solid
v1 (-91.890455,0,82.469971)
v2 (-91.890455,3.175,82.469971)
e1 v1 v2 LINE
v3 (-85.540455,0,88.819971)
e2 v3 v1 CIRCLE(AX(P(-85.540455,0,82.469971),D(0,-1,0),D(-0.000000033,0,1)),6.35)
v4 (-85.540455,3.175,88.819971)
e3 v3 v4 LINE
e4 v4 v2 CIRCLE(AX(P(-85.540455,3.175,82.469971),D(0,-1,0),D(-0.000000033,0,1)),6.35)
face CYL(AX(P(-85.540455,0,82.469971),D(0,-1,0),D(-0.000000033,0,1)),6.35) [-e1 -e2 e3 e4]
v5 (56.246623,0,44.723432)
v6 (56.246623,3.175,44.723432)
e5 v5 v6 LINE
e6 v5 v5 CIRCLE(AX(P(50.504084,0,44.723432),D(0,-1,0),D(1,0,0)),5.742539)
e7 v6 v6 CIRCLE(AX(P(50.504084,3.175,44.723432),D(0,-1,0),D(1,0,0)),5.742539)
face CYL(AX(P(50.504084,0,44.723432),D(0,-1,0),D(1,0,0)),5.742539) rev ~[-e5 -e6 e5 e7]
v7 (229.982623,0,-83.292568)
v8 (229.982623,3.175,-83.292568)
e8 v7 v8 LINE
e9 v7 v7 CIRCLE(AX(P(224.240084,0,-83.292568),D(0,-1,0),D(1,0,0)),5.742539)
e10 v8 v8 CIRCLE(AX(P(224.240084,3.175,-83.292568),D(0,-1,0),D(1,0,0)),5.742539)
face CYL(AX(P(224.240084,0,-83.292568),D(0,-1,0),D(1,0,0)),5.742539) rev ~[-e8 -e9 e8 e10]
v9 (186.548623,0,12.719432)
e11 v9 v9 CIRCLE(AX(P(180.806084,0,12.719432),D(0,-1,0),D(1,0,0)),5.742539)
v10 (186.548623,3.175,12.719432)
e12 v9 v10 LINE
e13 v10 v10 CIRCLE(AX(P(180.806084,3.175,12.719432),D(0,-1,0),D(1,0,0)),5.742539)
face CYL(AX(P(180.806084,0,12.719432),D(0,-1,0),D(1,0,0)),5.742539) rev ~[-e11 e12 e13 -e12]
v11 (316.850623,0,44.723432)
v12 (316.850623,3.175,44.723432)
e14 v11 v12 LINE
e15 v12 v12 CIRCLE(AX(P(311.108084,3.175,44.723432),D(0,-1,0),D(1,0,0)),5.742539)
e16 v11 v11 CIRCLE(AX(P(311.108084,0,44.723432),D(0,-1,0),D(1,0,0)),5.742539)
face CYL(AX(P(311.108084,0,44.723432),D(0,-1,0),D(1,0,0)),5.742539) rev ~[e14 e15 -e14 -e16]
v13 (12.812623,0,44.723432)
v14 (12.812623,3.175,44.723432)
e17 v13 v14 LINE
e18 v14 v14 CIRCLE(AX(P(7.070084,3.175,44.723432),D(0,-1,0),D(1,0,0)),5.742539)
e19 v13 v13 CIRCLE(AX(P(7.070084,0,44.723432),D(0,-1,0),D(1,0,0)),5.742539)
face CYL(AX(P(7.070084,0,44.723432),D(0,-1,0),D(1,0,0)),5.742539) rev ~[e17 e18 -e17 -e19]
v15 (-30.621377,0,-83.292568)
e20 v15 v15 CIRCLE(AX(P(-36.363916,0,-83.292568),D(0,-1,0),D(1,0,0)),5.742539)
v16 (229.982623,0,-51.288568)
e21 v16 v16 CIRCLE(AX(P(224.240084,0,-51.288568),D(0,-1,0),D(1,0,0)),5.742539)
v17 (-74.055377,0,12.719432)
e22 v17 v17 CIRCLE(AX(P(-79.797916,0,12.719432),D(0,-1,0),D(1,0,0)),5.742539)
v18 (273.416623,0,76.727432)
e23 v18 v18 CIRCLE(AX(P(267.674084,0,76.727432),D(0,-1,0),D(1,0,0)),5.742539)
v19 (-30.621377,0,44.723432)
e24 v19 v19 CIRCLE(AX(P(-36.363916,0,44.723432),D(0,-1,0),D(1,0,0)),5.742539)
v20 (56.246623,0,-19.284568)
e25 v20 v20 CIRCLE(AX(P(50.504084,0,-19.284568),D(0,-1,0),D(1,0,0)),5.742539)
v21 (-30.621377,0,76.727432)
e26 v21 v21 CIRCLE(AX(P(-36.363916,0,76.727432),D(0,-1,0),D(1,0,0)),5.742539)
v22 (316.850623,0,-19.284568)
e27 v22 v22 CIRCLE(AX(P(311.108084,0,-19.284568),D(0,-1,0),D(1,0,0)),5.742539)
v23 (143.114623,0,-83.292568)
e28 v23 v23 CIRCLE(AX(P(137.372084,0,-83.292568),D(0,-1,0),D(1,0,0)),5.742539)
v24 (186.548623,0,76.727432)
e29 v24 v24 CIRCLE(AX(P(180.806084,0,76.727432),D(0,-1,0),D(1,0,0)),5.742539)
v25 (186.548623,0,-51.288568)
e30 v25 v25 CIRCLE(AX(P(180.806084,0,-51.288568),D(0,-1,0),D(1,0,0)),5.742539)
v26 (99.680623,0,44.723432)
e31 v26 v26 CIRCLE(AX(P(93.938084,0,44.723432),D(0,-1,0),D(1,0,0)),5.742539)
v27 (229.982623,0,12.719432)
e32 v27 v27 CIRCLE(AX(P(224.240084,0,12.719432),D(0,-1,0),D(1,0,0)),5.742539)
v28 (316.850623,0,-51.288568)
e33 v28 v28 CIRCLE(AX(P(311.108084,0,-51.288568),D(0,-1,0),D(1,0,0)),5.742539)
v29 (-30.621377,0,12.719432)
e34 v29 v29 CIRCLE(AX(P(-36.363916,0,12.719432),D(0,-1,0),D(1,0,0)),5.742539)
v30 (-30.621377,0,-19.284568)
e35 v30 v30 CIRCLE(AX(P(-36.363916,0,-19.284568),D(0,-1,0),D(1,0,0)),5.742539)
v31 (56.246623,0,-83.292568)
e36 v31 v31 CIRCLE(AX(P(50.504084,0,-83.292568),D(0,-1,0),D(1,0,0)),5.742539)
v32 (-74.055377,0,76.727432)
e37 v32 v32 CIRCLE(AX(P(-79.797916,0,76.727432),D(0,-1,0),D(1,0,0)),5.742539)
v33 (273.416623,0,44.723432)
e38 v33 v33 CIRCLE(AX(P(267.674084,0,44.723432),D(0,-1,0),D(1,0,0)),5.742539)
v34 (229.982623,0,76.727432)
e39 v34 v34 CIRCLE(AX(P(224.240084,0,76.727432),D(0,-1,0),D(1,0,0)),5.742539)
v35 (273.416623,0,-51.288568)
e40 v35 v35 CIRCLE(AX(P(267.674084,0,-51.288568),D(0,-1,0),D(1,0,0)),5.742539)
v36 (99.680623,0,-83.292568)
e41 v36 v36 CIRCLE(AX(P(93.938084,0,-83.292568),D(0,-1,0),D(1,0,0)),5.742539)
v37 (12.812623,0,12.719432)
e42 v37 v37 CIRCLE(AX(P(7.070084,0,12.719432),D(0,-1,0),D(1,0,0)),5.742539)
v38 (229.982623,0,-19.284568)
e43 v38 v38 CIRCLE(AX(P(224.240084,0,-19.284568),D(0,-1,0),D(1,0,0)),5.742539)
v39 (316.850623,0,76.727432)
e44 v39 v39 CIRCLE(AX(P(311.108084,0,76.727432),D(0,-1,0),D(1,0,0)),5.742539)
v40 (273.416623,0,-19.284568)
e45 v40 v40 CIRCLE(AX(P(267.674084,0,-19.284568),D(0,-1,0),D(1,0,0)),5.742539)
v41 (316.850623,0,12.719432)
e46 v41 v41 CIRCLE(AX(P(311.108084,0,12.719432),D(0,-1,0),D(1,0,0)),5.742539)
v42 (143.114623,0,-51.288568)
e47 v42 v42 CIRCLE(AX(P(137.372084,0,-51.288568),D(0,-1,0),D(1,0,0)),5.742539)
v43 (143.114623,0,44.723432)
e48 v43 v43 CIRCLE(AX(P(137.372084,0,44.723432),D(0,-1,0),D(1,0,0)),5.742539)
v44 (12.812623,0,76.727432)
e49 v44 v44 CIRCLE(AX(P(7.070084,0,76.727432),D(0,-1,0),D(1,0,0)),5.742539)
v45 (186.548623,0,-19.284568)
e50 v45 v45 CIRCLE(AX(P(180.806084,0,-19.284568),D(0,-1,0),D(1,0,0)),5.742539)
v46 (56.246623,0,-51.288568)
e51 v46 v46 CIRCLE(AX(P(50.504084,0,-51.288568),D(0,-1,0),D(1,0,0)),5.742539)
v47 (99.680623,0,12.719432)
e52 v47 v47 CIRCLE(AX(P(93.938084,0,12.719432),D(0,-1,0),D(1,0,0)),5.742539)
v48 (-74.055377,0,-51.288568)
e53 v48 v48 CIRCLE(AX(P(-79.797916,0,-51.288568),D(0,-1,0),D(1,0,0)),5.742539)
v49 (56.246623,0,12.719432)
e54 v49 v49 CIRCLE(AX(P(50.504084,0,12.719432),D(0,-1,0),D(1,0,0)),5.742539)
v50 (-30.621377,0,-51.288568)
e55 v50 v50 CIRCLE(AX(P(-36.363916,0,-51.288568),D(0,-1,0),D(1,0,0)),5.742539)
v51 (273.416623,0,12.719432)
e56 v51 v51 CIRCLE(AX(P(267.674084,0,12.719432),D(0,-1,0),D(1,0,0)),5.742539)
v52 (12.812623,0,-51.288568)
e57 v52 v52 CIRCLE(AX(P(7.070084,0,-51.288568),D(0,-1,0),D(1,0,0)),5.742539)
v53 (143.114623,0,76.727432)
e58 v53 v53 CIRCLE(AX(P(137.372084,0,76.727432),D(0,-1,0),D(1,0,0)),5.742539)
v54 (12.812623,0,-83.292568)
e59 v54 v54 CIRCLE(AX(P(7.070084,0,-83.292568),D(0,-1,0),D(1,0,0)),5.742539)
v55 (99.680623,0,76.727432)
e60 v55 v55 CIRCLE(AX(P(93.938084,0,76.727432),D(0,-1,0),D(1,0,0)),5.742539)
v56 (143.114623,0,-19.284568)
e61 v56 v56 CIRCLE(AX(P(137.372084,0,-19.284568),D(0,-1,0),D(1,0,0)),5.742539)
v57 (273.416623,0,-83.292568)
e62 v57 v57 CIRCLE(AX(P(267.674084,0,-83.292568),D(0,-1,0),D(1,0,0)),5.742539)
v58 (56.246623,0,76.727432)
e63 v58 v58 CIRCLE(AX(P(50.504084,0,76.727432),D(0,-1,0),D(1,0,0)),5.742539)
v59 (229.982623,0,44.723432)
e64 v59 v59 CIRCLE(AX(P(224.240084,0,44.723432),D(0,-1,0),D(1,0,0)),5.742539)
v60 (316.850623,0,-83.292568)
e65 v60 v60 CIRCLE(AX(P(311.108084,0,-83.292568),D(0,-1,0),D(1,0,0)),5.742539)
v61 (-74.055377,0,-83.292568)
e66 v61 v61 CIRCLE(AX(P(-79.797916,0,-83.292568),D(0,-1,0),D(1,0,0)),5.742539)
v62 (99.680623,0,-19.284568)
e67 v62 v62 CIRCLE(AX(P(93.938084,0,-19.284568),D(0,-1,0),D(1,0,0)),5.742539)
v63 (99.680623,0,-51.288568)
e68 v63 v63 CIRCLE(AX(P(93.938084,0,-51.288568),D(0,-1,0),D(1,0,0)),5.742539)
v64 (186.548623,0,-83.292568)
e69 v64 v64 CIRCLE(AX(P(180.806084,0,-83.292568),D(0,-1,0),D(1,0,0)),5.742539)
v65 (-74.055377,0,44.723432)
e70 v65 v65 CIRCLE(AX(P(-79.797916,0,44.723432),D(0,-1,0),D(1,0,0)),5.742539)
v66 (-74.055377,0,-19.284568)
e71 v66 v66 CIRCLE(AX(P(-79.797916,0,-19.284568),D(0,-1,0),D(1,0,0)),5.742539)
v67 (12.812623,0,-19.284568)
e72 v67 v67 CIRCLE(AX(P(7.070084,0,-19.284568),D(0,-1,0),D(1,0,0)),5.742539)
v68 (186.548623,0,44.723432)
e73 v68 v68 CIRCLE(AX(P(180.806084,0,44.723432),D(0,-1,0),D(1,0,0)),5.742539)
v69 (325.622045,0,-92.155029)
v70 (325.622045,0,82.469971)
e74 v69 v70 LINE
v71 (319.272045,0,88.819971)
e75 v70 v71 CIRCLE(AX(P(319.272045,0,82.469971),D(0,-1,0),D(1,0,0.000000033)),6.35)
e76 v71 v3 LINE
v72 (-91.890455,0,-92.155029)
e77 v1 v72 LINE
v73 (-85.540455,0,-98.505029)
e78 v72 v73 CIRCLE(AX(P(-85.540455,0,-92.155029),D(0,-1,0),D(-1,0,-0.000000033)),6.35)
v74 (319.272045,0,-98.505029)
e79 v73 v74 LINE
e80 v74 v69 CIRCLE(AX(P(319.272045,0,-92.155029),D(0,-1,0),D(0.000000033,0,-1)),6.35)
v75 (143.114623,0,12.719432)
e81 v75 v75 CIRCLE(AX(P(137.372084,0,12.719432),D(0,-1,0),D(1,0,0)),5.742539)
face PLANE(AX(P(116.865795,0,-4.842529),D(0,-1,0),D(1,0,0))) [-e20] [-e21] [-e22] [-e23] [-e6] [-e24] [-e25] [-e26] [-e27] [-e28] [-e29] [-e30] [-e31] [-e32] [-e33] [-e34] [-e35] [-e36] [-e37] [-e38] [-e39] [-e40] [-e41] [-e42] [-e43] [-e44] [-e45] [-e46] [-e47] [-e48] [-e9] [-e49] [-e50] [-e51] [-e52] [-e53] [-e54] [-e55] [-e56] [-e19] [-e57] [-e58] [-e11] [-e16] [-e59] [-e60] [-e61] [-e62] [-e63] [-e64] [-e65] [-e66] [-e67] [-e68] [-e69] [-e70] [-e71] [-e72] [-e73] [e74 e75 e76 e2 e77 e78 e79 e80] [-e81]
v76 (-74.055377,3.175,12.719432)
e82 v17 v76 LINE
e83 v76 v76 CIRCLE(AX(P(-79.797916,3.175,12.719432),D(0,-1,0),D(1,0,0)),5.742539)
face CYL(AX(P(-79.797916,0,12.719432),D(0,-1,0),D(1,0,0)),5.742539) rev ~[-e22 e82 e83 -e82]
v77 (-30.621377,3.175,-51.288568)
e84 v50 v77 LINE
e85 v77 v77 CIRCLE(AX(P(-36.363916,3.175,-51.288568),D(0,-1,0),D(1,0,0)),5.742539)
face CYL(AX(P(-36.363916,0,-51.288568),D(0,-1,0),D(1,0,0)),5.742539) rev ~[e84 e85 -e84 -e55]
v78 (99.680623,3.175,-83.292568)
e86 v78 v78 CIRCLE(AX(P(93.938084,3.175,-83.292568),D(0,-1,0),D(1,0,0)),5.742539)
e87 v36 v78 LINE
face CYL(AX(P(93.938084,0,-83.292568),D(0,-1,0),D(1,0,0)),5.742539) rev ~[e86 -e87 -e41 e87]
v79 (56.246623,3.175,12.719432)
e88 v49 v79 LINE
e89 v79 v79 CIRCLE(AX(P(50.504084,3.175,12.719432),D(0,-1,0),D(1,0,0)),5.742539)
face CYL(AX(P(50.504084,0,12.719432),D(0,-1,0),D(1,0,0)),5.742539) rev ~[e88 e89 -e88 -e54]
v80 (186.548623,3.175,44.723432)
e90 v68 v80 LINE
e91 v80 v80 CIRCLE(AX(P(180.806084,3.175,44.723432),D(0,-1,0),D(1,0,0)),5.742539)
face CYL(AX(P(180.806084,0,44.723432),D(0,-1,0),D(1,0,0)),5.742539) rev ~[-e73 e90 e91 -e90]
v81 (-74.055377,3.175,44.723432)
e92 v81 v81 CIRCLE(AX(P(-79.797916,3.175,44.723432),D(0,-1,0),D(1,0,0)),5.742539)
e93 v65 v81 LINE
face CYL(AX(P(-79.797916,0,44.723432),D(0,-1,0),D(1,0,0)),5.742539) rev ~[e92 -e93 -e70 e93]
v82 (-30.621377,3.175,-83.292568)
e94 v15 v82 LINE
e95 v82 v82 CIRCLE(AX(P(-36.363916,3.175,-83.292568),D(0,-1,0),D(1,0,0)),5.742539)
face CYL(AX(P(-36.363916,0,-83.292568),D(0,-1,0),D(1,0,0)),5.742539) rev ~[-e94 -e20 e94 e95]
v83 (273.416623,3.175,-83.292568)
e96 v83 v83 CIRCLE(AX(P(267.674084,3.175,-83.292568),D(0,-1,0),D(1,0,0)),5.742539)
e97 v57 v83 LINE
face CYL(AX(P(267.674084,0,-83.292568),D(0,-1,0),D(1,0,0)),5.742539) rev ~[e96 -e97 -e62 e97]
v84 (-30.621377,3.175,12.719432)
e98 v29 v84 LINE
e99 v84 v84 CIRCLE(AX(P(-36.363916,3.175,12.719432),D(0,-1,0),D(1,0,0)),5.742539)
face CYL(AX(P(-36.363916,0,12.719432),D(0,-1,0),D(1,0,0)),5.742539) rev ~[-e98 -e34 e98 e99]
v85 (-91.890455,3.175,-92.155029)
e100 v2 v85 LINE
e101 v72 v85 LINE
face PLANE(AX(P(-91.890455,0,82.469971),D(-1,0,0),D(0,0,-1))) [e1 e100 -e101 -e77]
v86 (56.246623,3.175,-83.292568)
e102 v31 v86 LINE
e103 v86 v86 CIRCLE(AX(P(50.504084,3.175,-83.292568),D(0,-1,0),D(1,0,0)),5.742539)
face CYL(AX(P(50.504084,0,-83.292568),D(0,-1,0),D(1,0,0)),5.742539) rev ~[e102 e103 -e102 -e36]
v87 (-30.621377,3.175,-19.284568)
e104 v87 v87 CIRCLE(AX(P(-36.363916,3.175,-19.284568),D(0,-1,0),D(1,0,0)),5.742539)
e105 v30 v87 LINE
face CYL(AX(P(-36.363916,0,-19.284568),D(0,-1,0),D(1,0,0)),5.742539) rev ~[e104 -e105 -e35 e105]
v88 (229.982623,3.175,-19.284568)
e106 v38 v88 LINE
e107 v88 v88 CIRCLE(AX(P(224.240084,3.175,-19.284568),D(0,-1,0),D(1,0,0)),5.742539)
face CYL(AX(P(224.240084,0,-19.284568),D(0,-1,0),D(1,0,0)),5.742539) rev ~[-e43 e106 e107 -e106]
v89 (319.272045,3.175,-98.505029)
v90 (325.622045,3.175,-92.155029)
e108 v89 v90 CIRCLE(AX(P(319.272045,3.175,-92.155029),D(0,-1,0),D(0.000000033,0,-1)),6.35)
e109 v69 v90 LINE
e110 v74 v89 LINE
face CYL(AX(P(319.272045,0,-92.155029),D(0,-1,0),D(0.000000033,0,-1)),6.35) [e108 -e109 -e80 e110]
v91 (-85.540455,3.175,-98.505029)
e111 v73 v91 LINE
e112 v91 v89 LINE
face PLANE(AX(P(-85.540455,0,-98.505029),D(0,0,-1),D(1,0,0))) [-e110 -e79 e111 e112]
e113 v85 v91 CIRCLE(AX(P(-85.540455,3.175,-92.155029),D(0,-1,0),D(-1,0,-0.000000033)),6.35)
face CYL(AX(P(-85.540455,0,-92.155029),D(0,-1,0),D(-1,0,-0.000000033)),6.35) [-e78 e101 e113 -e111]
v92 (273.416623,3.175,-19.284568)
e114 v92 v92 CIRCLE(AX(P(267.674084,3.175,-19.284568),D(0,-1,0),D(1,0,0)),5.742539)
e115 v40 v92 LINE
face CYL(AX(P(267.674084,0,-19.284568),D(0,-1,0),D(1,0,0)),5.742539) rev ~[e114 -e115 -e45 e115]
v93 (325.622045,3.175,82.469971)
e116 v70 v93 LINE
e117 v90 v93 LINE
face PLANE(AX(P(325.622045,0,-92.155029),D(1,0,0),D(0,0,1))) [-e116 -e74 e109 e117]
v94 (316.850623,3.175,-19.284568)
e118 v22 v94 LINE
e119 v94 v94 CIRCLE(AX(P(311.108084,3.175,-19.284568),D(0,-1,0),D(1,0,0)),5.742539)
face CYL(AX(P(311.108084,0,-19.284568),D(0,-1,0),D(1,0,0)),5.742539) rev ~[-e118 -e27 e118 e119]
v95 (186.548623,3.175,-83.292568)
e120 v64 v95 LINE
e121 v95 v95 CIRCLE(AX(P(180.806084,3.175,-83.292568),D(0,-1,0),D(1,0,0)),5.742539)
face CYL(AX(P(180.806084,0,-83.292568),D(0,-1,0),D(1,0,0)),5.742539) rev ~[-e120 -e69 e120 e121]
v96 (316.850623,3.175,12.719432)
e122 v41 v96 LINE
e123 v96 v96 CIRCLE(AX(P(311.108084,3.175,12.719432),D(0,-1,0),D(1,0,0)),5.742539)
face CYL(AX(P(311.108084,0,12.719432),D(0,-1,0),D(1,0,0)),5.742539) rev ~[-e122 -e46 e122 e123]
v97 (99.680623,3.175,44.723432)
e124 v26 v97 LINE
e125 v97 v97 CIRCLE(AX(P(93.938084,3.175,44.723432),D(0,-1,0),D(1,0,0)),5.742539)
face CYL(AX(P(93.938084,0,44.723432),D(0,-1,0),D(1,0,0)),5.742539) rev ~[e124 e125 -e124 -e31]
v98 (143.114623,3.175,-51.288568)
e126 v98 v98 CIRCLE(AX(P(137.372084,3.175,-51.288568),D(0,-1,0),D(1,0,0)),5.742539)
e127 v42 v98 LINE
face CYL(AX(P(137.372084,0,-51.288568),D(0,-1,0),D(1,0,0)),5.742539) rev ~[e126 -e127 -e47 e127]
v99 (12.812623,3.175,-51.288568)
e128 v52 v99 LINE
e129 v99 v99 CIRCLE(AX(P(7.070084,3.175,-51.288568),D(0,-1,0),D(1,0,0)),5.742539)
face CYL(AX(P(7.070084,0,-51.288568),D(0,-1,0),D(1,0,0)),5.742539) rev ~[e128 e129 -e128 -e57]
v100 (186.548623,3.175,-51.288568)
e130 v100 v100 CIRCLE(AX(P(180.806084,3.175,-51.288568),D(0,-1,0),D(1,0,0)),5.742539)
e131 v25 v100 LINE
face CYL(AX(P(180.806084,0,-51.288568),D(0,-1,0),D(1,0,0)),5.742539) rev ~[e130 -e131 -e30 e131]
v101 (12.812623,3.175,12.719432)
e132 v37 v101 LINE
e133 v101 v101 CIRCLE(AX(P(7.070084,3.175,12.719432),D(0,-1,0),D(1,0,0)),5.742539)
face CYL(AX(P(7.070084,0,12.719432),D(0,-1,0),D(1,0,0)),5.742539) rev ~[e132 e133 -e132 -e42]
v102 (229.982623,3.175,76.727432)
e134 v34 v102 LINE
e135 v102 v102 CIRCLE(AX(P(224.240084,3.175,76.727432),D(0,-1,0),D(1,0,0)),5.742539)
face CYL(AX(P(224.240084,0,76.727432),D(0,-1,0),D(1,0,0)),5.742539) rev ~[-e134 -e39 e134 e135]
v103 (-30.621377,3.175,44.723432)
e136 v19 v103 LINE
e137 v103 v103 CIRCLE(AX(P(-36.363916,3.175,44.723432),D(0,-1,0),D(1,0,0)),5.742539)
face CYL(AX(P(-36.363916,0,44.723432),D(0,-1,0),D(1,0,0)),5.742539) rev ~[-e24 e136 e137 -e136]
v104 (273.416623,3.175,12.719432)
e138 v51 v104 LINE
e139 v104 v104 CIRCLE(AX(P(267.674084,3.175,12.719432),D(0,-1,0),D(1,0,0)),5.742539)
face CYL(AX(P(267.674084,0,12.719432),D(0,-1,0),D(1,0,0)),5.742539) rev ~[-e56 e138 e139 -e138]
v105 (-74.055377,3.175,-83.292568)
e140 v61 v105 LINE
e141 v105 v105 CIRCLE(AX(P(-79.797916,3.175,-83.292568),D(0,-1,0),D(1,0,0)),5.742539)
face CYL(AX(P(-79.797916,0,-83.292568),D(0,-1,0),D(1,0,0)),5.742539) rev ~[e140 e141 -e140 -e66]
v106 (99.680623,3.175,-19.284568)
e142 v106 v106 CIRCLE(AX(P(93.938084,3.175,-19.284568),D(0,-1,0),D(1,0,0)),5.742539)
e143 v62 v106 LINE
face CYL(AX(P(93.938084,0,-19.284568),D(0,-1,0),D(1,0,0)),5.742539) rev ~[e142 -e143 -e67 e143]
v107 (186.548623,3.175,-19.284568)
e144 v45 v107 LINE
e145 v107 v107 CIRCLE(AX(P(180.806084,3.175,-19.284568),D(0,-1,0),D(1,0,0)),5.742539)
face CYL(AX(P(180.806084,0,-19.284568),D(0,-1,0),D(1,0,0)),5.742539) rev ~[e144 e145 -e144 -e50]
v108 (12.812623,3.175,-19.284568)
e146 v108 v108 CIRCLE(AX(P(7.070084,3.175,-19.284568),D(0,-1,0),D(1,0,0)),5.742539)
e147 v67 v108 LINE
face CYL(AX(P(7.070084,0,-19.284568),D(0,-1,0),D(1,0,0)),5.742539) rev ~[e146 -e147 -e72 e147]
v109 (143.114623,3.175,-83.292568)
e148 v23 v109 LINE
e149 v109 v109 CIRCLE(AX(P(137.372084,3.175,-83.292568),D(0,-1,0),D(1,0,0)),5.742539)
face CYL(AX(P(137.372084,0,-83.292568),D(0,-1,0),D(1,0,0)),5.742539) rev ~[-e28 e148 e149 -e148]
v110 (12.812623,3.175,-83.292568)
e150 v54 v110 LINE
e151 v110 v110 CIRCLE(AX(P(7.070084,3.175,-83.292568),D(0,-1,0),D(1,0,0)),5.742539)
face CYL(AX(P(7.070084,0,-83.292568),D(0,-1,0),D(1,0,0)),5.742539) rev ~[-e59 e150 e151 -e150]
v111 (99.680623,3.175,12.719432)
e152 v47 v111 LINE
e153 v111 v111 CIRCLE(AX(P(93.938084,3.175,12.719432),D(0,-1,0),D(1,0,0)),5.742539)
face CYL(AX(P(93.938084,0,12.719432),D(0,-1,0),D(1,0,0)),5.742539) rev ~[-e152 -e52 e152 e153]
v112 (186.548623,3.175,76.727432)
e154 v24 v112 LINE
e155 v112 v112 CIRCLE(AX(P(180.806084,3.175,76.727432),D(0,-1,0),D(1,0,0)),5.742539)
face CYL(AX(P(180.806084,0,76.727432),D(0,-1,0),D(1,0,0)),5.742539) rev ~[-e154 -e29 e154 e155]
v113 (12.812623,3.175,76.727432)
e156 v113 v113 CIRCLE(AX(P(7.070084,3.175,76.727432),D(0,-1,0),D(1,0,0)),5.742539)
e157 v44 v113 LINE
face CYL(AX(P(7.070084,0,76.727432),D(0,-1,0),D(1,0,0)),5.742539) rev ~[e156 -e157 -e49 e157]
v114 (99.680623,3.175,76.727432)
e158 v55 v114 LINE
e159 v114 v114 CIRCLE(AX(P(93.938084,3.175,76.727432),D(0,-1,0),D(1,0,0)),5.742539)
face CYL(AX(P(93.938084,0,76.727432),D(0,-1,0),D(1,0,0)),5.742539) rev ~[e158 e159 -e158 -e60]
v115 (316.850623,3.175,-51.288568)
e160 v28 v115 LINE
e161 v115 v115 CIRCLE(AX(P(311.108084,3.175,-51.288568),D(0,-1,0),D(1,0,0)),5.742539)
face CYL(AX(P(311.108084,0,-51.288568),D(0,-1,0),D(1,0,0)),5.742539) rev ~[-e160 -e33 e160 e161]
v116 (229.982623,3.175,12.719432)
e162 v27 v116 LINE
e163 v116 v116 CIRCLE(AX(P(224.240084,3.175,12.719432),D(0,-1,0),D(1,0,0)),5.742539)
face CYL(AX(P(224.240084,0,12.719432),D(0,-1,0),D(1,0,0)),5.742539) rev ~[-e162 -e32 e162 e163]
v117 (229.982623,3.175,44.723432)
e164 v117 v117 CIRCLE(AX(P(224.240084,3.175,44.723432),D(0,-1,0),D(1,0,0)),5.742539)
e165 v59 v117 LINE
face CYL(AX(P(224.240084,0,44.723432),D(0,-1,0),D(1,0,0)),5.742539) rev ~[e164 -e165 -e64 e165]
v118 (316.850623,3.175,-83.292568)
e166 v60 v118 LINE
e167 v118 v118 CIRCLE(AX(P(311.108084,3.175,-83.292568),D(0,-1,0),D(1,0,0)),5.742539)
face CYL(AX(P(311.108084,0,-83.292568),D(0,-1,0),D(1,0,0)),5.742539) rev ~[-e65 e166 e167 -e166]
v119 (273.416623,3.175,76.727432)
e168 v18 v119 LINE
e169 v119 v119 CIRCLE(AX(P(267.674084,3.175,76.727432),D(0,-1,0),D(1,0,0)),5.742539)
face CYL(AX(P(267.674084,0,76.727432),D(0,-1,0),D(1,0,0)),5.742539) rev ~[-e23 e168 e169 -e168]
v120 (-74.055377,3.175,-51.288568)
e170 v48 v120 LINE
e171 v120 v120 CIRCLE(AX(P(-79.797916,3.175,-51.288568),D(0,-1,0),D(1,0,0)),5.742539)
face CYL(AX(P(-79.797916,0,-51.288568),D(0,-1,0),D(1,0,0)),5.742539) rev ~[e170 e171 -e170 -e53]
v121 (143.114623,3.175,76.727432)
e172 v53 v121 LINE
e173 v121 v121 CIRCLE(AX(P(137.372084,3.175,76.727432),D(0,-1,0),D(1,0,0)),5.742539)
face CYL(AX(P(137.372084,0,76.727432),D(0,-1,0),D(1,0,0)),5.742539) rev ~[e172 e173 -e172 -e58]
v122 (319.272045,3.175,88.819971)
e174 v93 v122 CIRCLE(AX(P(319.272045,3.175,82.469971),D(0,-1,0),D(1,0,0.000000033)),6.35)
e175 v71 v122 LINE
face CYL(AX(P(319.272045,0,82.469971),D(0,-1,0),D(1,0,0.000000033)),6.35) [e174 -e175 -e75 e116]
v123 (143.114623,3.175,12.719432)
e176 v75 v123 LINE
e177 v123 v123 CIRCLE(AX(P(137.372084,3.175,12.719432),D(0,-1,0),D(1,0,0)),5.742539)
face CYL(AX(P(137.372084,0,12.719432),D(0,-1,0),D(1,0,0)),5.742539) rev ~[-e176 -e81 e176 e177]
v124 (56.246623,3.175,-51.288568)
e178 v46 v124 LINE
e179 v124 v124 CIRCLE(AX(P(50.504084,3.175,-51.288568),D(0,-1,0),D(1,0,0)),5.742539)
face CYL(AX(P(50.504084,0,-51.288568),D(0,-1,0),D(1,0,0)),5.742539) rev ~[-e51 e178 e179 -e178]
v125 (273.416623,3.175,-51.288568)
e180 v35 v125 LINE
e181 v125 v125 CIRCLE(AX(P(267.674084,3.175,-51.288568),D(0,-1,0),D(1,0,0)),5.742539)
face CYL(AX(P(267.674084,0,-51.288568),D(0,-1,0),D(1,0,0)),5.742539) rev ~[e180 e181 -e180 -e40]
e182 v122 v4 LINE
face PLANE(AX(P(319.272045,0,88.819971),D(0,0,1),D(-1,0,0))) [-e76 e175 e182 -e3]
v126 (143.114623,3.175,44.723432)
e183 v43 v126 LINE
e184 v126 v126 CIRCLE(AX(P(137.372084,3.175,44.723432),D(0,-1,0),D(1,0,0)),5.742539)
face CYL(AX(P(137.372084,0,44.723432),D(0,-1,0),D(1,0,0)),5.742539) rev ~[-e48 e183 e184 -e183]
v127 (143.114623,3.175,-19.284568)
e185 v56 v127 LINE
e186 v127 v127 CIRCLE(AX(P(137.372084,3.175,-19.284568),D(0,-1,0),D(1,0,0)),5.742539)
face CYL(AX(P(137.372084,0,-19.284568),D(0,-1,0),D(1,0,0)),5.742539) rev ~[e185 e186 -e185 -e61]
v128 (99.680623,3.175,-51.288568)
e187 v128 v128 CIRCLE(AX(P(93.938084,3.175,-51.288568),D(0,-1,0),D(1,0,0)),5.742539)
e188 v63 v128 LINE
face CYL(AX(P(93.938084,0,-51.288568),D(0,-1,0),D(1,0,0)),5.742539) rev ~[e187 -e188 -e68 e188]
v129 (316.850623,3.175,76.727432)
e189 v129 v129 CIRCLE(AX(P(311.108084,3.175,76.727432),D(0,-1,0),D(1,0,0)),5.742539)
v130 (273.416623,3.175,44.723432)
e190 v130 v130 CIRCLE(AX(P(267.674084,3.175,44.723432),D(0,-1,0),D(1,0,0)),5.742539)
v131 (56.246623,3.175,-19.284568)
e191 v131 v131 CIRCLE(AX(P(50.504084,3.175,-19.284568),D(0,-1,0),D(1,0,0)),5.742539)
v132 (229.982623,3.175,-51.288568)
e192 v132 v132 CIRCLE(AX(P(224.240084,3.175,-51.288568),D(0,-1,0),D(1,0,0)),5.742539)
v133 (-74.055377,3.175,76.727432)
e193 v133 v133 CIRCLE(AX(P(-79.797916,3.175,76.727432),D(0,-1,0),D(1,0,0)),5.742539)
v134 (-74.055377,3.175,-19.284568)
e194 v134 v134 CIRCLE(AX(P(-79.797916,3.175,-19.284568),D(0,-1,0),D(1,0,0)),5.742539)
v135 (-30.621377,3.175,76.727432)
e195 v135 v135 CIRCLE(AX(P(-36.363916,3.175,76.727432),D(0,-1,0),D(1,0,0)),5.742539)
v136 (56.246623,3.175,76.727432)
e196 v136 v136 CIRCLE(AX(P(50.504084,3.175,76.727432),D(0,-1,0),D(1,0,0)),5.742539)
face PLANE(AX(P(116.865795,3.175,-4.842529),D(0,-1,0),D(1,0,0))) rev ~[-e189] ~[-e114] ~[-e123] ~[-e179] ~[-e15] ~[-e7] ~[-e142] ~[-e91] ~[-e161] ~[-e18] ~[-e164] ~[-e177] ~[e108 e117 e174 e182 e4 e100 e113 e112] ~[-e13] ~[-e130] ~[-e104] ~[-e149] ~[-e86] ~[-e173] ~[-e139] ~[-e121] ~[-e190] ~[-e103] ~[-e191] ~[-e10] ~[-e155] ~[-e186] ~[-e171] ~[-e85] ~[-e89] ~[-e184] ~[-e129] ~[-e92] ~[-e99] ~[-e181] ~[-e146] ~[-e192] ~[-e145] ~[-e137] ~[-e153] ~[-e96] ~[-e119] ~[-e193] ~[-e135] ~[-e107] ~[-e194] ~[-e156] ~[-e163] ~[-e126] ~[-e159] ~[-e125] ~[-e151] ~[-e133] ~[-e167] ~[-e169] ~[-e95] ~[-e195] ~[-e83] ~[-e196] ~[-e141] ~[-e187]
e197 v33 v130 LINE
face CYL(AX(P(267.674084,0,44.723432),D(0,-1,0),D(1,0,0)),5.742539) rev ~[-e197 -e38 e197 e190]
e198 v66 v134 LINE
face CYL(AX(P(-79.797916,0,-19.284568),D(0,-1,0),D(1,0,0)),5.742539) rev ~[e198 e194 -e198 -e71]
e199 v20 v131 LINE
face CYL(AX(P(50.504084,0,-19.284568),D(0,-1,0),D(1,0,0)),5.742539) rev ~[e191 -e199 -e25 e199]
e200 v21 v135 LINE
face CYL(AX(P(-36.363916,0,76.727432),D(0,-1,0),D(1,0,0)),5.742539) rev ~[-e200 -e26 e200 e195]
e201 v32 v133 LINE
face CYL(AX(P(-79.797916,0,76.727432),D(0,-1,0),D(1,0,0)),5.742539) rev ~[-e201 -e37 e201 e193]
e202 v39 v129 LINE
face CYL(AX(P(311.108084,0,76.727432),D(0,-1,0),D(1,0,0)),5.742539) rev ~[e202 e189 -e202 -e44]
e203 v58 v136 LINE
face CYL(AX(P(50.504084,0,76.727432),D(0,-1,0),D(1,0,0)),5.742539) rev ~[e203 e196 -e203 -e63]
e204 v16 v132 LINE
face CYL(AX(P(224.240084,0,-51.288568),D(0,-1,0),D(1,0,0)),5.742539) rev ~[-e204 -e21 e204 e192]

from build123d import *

# Parameters (mm, degrees)
F0_R     = 5.742539
F1_DEPTH = 3.175


with BuildPart() as f1:
    # F0 (on Front) → F1 (new body)
    with BuildSketch(Plane.XZ):
        with BuildLine():
            Line((319.272045, 88.819971), (-85.540455, 88.819971))
            ThreePointArc((-85.540455, 88.819971), (-90.030583, 86.960099), (-91.890455, 82.469971))
            Line((-91.890455, 82.469971), (-91.890455, -92.155029))
            ThreePointArc((-91.890455, -92.155029), (-90.030583, -96.645157), (-85.540455, -98.505029))
            Line((-85.540455, -98.505029), (319.272045, -98.505029))
            ThreePointArc((319.272045, -98.505029), (323.762173, -96.645157), (325.622045, -92.155029))
            Line((325.622045, -92.155029), (325.622045, 82.469971))
            ThreePointArc((325.622045, 82.469971), (323.762173, 86.960099), (319.272045, 88.819971))
        make_face()
        with Locations((-79.797916, -83.292568)):
            Circle(F0_R, mode=Mode.SUBTRACT)
        with Locations((-36.363916, -83.292568)):
            Circle(F0_R, mode=Mode.SUBTRACT)
        with Locations((7.070084, -83.292568)):
            Circle(F0_R, mode=Mode.SUBTRACT)
        with Locations((50.504084, -83.292568)):
            Circle(F0_R, mode=Mode.SUBTRACT)
        with Locations((93.938084, -83.292568)):
            Circle(F0_R, mode=Mode.SUBTRACT)
        with Locations((-79.797916, -51.288568)):
            Circle(F0_R, mode=Mode.SUBTRACT)
        with Locations((-36.363916, -51.288568)):
            Circle(F0_R, mode=Mode.SUBTRACT)
        with Locations((7.070084, -51.288568)):
            Circle(F0_R, mode=Mode.SUBTRACT)
        with Locations((-79.797916, -19.284568)):
            Circle(F0_R, mode=Mode.SUBTRACT)
        with Locations((-36.363916, -19.284568)):
            Circle(F0_R, mode=Mode.SUBTRACT)
        with Locations((7.070084, -19.284568)):
            Circle(F0_R, mode=Mode.SUBTRACT)
        with Locations((50.504084, -51.288568)):
            Circle(F0_R, mode=Mode.SUBTRACT)
        with Locations((93.938084, -51.288568)):
            Circle(F0_R, mode=Mode.SUBTRACT)
        with Locations((50.504084, -19.284568)):
            Circle(F0_R, mode=Mode.SUBTRACT)
        with Locations((93.938084, -19.284568)):
            Circle(F0_R, mode=Mode.SUBTRACT)
        with Locations((137.372084, -83.292568)):
            Circle(F0_R, mode=Mode.SUBTRACT)
        with Locations((180.806084, -83.292568)):
            Circle(F0_R, mode=Mode.SUBTRACT)
        with Locations((224.240084, -83.292568)):
            Circle(F0_R, mode=Mode.SUBTRACT)
        with Locations((267.674084, -83.292568)):
            Circle(F0_R, mode=Mode.SUBTRACT)
        with Locations((311.108084, -83.292568)):
            Circle(F0_R, mode=Mode.SUBTRACT)
        with Locations((137.372084, -51.288568)):
            Circle(F0_R, mode=Mode.SUBTRACT)
        with Locations((180.806084, -51.288568)):
            Circle(F0_R, mode=Mode.SUBTRACT)
        with Locations((137.372084, -19.284568)):
            Circle(F0_R, mode=Mode.SUBTRACT)
        with Locations((180.806084, -19.284568)):
            Circle(F0_R, mode=Mode.SUBTRACT)
        with Locations((224.240084, -51.288568)):
            Circle(F0_R, mode=Mode.SUBTRACT)
        with Locations((267.674084, -51.288568)):
            Circle(F0_R, mode=Mode.SUBTRACT)
        with Locations((311.108084, -51.288568)):
            Circle(F0_R, mode=Mode.SUBTRACT)
        with Locations((224.240084, -19.284568)):
            Circle(F0_R, mode=Mode.SUBTRACT)
        with Locations((267.674084, -19.284568)):
            Circle(F0_R, mode=Mode.SUBTRACT)
        with Locations((311.108084, -19.284568)):
            Circle(F0_R, mode=Mode.SUBTRACT)
        with Locations((-79.797916, 12.719432)):
            Circle(F0_R, mode=Mode.SUBTRACT)
        with Locations((-36.363916, 12.719432)):
            Circle(F0_R, mode=Mode.SUBTRACT)
        with Locations((7.070084, 12.719432)):
            Circle(F0_R, mode=Mode.SUBTRACT)
        with Locations((50.504084, 12.719432)):
            Circle(F0_R, mode=Mode.SUBTRACT)
        with Locations((93.938084, 12.719432)):
            Circle(F0_R, mode=Mode.SUBTRACT)
        with Locations((-79.797916, 44.723432)):
            Circle(F0_R, mode=Mode.SUBTRACT)
        with Locations((-36.363916, 44.723432)):
            Circle(F0_R, mode=Mode.SUBTRACT)
        with Locations((7.070084, 44.723432)):
            Circle(F0_R, mode=Mode.SUBTRACT)
        with Locations((-79.797916, 76.727432)):
            Circle(F0_R, mode=Mode.SUBTRACT)
        with Locations((-36.363916, 76.727432)):
            Circle(F0_R, mode=Mode.SUBTRACT)
        with Locations((7.070084, 76.727432)):
            Circle(F0_R, mode=Mode.SUBTRACT)
        with Locations((50.504084, 44.723432)):
            Circle(F0_R, mode=Mode.SUBTRACT)
        with Locations((93.938084, 44.723432)):
            Circle(F0_R, mode=Mode.SUBTRACT)
        with Locations((50.504084, 76.727432)):
            Circle(F0_R, mode=Mode.SUBTRACT)
        with Locations((93.938084, 76.727432)):
            Circle(F0_R, mode=Mode.SUBTRACT)
        with Locations((137.372084, 12.719432)):
            Circle(F0_R, mode=Mode.SUBTRACT)
        with Locations((180.806084, 12.719432)):
            Circle(F0_R, mode=Mode.SUBTRACT)
        with Locations((224.240084, 12.719432)):
            Circle(F0_R, mode=Mode.SUBTRACT)
        with Locations((267.674084, 12.719432)):
            Circle(F0_R, mode=Mode.SUBTRACT)
        with Locations((311.108084, 12.719432)):
            Circle(F0_R, mode=Mode.SUBTRACT)
        with Locations((137.372084, 44.723432)):
            Circle(F0_R, mode=Mode.SUBTRACT)
        with Locations((180.806084, 44.723432)):
            Circle(F0_R, mode=Mode.SUBTRACT)
        with Locations((137.372084, 76.727432)):
            Circle(F0_R, mode=Mode.SUBTRACT)
        with Locations((180.806084, 76.727432)):
            Circle(F0_R, mode=Mode.SUBTRACT)
        with Locations((224.240084, 44.723432)):
            Circle(F0_R, mode=Mode.SUBTRACT)
        with Locations((267.674084, 44.723432)):
            Circle(F0_R, mode=Mode.SUBTRACT)
        with Locations((311.108084, 44.723432)):
            Circle(F0_R, mode=Mode.SUBTRACT)
        with Locations((224.240084, 76.727432)):
            Circle(F0_R, mode=Mode.SUBTRACT)
        with Locations((267.674084, 76.727432)):
            Circle(F0_R, mode=Mode.SUBTRACT)
        with Locations((311.108084, 76.727432)):
            Circle(F0_R, mode=Mode.SUBTRACT)
    extrude(amount=-F1_DEPTH)


solid = f1.part
